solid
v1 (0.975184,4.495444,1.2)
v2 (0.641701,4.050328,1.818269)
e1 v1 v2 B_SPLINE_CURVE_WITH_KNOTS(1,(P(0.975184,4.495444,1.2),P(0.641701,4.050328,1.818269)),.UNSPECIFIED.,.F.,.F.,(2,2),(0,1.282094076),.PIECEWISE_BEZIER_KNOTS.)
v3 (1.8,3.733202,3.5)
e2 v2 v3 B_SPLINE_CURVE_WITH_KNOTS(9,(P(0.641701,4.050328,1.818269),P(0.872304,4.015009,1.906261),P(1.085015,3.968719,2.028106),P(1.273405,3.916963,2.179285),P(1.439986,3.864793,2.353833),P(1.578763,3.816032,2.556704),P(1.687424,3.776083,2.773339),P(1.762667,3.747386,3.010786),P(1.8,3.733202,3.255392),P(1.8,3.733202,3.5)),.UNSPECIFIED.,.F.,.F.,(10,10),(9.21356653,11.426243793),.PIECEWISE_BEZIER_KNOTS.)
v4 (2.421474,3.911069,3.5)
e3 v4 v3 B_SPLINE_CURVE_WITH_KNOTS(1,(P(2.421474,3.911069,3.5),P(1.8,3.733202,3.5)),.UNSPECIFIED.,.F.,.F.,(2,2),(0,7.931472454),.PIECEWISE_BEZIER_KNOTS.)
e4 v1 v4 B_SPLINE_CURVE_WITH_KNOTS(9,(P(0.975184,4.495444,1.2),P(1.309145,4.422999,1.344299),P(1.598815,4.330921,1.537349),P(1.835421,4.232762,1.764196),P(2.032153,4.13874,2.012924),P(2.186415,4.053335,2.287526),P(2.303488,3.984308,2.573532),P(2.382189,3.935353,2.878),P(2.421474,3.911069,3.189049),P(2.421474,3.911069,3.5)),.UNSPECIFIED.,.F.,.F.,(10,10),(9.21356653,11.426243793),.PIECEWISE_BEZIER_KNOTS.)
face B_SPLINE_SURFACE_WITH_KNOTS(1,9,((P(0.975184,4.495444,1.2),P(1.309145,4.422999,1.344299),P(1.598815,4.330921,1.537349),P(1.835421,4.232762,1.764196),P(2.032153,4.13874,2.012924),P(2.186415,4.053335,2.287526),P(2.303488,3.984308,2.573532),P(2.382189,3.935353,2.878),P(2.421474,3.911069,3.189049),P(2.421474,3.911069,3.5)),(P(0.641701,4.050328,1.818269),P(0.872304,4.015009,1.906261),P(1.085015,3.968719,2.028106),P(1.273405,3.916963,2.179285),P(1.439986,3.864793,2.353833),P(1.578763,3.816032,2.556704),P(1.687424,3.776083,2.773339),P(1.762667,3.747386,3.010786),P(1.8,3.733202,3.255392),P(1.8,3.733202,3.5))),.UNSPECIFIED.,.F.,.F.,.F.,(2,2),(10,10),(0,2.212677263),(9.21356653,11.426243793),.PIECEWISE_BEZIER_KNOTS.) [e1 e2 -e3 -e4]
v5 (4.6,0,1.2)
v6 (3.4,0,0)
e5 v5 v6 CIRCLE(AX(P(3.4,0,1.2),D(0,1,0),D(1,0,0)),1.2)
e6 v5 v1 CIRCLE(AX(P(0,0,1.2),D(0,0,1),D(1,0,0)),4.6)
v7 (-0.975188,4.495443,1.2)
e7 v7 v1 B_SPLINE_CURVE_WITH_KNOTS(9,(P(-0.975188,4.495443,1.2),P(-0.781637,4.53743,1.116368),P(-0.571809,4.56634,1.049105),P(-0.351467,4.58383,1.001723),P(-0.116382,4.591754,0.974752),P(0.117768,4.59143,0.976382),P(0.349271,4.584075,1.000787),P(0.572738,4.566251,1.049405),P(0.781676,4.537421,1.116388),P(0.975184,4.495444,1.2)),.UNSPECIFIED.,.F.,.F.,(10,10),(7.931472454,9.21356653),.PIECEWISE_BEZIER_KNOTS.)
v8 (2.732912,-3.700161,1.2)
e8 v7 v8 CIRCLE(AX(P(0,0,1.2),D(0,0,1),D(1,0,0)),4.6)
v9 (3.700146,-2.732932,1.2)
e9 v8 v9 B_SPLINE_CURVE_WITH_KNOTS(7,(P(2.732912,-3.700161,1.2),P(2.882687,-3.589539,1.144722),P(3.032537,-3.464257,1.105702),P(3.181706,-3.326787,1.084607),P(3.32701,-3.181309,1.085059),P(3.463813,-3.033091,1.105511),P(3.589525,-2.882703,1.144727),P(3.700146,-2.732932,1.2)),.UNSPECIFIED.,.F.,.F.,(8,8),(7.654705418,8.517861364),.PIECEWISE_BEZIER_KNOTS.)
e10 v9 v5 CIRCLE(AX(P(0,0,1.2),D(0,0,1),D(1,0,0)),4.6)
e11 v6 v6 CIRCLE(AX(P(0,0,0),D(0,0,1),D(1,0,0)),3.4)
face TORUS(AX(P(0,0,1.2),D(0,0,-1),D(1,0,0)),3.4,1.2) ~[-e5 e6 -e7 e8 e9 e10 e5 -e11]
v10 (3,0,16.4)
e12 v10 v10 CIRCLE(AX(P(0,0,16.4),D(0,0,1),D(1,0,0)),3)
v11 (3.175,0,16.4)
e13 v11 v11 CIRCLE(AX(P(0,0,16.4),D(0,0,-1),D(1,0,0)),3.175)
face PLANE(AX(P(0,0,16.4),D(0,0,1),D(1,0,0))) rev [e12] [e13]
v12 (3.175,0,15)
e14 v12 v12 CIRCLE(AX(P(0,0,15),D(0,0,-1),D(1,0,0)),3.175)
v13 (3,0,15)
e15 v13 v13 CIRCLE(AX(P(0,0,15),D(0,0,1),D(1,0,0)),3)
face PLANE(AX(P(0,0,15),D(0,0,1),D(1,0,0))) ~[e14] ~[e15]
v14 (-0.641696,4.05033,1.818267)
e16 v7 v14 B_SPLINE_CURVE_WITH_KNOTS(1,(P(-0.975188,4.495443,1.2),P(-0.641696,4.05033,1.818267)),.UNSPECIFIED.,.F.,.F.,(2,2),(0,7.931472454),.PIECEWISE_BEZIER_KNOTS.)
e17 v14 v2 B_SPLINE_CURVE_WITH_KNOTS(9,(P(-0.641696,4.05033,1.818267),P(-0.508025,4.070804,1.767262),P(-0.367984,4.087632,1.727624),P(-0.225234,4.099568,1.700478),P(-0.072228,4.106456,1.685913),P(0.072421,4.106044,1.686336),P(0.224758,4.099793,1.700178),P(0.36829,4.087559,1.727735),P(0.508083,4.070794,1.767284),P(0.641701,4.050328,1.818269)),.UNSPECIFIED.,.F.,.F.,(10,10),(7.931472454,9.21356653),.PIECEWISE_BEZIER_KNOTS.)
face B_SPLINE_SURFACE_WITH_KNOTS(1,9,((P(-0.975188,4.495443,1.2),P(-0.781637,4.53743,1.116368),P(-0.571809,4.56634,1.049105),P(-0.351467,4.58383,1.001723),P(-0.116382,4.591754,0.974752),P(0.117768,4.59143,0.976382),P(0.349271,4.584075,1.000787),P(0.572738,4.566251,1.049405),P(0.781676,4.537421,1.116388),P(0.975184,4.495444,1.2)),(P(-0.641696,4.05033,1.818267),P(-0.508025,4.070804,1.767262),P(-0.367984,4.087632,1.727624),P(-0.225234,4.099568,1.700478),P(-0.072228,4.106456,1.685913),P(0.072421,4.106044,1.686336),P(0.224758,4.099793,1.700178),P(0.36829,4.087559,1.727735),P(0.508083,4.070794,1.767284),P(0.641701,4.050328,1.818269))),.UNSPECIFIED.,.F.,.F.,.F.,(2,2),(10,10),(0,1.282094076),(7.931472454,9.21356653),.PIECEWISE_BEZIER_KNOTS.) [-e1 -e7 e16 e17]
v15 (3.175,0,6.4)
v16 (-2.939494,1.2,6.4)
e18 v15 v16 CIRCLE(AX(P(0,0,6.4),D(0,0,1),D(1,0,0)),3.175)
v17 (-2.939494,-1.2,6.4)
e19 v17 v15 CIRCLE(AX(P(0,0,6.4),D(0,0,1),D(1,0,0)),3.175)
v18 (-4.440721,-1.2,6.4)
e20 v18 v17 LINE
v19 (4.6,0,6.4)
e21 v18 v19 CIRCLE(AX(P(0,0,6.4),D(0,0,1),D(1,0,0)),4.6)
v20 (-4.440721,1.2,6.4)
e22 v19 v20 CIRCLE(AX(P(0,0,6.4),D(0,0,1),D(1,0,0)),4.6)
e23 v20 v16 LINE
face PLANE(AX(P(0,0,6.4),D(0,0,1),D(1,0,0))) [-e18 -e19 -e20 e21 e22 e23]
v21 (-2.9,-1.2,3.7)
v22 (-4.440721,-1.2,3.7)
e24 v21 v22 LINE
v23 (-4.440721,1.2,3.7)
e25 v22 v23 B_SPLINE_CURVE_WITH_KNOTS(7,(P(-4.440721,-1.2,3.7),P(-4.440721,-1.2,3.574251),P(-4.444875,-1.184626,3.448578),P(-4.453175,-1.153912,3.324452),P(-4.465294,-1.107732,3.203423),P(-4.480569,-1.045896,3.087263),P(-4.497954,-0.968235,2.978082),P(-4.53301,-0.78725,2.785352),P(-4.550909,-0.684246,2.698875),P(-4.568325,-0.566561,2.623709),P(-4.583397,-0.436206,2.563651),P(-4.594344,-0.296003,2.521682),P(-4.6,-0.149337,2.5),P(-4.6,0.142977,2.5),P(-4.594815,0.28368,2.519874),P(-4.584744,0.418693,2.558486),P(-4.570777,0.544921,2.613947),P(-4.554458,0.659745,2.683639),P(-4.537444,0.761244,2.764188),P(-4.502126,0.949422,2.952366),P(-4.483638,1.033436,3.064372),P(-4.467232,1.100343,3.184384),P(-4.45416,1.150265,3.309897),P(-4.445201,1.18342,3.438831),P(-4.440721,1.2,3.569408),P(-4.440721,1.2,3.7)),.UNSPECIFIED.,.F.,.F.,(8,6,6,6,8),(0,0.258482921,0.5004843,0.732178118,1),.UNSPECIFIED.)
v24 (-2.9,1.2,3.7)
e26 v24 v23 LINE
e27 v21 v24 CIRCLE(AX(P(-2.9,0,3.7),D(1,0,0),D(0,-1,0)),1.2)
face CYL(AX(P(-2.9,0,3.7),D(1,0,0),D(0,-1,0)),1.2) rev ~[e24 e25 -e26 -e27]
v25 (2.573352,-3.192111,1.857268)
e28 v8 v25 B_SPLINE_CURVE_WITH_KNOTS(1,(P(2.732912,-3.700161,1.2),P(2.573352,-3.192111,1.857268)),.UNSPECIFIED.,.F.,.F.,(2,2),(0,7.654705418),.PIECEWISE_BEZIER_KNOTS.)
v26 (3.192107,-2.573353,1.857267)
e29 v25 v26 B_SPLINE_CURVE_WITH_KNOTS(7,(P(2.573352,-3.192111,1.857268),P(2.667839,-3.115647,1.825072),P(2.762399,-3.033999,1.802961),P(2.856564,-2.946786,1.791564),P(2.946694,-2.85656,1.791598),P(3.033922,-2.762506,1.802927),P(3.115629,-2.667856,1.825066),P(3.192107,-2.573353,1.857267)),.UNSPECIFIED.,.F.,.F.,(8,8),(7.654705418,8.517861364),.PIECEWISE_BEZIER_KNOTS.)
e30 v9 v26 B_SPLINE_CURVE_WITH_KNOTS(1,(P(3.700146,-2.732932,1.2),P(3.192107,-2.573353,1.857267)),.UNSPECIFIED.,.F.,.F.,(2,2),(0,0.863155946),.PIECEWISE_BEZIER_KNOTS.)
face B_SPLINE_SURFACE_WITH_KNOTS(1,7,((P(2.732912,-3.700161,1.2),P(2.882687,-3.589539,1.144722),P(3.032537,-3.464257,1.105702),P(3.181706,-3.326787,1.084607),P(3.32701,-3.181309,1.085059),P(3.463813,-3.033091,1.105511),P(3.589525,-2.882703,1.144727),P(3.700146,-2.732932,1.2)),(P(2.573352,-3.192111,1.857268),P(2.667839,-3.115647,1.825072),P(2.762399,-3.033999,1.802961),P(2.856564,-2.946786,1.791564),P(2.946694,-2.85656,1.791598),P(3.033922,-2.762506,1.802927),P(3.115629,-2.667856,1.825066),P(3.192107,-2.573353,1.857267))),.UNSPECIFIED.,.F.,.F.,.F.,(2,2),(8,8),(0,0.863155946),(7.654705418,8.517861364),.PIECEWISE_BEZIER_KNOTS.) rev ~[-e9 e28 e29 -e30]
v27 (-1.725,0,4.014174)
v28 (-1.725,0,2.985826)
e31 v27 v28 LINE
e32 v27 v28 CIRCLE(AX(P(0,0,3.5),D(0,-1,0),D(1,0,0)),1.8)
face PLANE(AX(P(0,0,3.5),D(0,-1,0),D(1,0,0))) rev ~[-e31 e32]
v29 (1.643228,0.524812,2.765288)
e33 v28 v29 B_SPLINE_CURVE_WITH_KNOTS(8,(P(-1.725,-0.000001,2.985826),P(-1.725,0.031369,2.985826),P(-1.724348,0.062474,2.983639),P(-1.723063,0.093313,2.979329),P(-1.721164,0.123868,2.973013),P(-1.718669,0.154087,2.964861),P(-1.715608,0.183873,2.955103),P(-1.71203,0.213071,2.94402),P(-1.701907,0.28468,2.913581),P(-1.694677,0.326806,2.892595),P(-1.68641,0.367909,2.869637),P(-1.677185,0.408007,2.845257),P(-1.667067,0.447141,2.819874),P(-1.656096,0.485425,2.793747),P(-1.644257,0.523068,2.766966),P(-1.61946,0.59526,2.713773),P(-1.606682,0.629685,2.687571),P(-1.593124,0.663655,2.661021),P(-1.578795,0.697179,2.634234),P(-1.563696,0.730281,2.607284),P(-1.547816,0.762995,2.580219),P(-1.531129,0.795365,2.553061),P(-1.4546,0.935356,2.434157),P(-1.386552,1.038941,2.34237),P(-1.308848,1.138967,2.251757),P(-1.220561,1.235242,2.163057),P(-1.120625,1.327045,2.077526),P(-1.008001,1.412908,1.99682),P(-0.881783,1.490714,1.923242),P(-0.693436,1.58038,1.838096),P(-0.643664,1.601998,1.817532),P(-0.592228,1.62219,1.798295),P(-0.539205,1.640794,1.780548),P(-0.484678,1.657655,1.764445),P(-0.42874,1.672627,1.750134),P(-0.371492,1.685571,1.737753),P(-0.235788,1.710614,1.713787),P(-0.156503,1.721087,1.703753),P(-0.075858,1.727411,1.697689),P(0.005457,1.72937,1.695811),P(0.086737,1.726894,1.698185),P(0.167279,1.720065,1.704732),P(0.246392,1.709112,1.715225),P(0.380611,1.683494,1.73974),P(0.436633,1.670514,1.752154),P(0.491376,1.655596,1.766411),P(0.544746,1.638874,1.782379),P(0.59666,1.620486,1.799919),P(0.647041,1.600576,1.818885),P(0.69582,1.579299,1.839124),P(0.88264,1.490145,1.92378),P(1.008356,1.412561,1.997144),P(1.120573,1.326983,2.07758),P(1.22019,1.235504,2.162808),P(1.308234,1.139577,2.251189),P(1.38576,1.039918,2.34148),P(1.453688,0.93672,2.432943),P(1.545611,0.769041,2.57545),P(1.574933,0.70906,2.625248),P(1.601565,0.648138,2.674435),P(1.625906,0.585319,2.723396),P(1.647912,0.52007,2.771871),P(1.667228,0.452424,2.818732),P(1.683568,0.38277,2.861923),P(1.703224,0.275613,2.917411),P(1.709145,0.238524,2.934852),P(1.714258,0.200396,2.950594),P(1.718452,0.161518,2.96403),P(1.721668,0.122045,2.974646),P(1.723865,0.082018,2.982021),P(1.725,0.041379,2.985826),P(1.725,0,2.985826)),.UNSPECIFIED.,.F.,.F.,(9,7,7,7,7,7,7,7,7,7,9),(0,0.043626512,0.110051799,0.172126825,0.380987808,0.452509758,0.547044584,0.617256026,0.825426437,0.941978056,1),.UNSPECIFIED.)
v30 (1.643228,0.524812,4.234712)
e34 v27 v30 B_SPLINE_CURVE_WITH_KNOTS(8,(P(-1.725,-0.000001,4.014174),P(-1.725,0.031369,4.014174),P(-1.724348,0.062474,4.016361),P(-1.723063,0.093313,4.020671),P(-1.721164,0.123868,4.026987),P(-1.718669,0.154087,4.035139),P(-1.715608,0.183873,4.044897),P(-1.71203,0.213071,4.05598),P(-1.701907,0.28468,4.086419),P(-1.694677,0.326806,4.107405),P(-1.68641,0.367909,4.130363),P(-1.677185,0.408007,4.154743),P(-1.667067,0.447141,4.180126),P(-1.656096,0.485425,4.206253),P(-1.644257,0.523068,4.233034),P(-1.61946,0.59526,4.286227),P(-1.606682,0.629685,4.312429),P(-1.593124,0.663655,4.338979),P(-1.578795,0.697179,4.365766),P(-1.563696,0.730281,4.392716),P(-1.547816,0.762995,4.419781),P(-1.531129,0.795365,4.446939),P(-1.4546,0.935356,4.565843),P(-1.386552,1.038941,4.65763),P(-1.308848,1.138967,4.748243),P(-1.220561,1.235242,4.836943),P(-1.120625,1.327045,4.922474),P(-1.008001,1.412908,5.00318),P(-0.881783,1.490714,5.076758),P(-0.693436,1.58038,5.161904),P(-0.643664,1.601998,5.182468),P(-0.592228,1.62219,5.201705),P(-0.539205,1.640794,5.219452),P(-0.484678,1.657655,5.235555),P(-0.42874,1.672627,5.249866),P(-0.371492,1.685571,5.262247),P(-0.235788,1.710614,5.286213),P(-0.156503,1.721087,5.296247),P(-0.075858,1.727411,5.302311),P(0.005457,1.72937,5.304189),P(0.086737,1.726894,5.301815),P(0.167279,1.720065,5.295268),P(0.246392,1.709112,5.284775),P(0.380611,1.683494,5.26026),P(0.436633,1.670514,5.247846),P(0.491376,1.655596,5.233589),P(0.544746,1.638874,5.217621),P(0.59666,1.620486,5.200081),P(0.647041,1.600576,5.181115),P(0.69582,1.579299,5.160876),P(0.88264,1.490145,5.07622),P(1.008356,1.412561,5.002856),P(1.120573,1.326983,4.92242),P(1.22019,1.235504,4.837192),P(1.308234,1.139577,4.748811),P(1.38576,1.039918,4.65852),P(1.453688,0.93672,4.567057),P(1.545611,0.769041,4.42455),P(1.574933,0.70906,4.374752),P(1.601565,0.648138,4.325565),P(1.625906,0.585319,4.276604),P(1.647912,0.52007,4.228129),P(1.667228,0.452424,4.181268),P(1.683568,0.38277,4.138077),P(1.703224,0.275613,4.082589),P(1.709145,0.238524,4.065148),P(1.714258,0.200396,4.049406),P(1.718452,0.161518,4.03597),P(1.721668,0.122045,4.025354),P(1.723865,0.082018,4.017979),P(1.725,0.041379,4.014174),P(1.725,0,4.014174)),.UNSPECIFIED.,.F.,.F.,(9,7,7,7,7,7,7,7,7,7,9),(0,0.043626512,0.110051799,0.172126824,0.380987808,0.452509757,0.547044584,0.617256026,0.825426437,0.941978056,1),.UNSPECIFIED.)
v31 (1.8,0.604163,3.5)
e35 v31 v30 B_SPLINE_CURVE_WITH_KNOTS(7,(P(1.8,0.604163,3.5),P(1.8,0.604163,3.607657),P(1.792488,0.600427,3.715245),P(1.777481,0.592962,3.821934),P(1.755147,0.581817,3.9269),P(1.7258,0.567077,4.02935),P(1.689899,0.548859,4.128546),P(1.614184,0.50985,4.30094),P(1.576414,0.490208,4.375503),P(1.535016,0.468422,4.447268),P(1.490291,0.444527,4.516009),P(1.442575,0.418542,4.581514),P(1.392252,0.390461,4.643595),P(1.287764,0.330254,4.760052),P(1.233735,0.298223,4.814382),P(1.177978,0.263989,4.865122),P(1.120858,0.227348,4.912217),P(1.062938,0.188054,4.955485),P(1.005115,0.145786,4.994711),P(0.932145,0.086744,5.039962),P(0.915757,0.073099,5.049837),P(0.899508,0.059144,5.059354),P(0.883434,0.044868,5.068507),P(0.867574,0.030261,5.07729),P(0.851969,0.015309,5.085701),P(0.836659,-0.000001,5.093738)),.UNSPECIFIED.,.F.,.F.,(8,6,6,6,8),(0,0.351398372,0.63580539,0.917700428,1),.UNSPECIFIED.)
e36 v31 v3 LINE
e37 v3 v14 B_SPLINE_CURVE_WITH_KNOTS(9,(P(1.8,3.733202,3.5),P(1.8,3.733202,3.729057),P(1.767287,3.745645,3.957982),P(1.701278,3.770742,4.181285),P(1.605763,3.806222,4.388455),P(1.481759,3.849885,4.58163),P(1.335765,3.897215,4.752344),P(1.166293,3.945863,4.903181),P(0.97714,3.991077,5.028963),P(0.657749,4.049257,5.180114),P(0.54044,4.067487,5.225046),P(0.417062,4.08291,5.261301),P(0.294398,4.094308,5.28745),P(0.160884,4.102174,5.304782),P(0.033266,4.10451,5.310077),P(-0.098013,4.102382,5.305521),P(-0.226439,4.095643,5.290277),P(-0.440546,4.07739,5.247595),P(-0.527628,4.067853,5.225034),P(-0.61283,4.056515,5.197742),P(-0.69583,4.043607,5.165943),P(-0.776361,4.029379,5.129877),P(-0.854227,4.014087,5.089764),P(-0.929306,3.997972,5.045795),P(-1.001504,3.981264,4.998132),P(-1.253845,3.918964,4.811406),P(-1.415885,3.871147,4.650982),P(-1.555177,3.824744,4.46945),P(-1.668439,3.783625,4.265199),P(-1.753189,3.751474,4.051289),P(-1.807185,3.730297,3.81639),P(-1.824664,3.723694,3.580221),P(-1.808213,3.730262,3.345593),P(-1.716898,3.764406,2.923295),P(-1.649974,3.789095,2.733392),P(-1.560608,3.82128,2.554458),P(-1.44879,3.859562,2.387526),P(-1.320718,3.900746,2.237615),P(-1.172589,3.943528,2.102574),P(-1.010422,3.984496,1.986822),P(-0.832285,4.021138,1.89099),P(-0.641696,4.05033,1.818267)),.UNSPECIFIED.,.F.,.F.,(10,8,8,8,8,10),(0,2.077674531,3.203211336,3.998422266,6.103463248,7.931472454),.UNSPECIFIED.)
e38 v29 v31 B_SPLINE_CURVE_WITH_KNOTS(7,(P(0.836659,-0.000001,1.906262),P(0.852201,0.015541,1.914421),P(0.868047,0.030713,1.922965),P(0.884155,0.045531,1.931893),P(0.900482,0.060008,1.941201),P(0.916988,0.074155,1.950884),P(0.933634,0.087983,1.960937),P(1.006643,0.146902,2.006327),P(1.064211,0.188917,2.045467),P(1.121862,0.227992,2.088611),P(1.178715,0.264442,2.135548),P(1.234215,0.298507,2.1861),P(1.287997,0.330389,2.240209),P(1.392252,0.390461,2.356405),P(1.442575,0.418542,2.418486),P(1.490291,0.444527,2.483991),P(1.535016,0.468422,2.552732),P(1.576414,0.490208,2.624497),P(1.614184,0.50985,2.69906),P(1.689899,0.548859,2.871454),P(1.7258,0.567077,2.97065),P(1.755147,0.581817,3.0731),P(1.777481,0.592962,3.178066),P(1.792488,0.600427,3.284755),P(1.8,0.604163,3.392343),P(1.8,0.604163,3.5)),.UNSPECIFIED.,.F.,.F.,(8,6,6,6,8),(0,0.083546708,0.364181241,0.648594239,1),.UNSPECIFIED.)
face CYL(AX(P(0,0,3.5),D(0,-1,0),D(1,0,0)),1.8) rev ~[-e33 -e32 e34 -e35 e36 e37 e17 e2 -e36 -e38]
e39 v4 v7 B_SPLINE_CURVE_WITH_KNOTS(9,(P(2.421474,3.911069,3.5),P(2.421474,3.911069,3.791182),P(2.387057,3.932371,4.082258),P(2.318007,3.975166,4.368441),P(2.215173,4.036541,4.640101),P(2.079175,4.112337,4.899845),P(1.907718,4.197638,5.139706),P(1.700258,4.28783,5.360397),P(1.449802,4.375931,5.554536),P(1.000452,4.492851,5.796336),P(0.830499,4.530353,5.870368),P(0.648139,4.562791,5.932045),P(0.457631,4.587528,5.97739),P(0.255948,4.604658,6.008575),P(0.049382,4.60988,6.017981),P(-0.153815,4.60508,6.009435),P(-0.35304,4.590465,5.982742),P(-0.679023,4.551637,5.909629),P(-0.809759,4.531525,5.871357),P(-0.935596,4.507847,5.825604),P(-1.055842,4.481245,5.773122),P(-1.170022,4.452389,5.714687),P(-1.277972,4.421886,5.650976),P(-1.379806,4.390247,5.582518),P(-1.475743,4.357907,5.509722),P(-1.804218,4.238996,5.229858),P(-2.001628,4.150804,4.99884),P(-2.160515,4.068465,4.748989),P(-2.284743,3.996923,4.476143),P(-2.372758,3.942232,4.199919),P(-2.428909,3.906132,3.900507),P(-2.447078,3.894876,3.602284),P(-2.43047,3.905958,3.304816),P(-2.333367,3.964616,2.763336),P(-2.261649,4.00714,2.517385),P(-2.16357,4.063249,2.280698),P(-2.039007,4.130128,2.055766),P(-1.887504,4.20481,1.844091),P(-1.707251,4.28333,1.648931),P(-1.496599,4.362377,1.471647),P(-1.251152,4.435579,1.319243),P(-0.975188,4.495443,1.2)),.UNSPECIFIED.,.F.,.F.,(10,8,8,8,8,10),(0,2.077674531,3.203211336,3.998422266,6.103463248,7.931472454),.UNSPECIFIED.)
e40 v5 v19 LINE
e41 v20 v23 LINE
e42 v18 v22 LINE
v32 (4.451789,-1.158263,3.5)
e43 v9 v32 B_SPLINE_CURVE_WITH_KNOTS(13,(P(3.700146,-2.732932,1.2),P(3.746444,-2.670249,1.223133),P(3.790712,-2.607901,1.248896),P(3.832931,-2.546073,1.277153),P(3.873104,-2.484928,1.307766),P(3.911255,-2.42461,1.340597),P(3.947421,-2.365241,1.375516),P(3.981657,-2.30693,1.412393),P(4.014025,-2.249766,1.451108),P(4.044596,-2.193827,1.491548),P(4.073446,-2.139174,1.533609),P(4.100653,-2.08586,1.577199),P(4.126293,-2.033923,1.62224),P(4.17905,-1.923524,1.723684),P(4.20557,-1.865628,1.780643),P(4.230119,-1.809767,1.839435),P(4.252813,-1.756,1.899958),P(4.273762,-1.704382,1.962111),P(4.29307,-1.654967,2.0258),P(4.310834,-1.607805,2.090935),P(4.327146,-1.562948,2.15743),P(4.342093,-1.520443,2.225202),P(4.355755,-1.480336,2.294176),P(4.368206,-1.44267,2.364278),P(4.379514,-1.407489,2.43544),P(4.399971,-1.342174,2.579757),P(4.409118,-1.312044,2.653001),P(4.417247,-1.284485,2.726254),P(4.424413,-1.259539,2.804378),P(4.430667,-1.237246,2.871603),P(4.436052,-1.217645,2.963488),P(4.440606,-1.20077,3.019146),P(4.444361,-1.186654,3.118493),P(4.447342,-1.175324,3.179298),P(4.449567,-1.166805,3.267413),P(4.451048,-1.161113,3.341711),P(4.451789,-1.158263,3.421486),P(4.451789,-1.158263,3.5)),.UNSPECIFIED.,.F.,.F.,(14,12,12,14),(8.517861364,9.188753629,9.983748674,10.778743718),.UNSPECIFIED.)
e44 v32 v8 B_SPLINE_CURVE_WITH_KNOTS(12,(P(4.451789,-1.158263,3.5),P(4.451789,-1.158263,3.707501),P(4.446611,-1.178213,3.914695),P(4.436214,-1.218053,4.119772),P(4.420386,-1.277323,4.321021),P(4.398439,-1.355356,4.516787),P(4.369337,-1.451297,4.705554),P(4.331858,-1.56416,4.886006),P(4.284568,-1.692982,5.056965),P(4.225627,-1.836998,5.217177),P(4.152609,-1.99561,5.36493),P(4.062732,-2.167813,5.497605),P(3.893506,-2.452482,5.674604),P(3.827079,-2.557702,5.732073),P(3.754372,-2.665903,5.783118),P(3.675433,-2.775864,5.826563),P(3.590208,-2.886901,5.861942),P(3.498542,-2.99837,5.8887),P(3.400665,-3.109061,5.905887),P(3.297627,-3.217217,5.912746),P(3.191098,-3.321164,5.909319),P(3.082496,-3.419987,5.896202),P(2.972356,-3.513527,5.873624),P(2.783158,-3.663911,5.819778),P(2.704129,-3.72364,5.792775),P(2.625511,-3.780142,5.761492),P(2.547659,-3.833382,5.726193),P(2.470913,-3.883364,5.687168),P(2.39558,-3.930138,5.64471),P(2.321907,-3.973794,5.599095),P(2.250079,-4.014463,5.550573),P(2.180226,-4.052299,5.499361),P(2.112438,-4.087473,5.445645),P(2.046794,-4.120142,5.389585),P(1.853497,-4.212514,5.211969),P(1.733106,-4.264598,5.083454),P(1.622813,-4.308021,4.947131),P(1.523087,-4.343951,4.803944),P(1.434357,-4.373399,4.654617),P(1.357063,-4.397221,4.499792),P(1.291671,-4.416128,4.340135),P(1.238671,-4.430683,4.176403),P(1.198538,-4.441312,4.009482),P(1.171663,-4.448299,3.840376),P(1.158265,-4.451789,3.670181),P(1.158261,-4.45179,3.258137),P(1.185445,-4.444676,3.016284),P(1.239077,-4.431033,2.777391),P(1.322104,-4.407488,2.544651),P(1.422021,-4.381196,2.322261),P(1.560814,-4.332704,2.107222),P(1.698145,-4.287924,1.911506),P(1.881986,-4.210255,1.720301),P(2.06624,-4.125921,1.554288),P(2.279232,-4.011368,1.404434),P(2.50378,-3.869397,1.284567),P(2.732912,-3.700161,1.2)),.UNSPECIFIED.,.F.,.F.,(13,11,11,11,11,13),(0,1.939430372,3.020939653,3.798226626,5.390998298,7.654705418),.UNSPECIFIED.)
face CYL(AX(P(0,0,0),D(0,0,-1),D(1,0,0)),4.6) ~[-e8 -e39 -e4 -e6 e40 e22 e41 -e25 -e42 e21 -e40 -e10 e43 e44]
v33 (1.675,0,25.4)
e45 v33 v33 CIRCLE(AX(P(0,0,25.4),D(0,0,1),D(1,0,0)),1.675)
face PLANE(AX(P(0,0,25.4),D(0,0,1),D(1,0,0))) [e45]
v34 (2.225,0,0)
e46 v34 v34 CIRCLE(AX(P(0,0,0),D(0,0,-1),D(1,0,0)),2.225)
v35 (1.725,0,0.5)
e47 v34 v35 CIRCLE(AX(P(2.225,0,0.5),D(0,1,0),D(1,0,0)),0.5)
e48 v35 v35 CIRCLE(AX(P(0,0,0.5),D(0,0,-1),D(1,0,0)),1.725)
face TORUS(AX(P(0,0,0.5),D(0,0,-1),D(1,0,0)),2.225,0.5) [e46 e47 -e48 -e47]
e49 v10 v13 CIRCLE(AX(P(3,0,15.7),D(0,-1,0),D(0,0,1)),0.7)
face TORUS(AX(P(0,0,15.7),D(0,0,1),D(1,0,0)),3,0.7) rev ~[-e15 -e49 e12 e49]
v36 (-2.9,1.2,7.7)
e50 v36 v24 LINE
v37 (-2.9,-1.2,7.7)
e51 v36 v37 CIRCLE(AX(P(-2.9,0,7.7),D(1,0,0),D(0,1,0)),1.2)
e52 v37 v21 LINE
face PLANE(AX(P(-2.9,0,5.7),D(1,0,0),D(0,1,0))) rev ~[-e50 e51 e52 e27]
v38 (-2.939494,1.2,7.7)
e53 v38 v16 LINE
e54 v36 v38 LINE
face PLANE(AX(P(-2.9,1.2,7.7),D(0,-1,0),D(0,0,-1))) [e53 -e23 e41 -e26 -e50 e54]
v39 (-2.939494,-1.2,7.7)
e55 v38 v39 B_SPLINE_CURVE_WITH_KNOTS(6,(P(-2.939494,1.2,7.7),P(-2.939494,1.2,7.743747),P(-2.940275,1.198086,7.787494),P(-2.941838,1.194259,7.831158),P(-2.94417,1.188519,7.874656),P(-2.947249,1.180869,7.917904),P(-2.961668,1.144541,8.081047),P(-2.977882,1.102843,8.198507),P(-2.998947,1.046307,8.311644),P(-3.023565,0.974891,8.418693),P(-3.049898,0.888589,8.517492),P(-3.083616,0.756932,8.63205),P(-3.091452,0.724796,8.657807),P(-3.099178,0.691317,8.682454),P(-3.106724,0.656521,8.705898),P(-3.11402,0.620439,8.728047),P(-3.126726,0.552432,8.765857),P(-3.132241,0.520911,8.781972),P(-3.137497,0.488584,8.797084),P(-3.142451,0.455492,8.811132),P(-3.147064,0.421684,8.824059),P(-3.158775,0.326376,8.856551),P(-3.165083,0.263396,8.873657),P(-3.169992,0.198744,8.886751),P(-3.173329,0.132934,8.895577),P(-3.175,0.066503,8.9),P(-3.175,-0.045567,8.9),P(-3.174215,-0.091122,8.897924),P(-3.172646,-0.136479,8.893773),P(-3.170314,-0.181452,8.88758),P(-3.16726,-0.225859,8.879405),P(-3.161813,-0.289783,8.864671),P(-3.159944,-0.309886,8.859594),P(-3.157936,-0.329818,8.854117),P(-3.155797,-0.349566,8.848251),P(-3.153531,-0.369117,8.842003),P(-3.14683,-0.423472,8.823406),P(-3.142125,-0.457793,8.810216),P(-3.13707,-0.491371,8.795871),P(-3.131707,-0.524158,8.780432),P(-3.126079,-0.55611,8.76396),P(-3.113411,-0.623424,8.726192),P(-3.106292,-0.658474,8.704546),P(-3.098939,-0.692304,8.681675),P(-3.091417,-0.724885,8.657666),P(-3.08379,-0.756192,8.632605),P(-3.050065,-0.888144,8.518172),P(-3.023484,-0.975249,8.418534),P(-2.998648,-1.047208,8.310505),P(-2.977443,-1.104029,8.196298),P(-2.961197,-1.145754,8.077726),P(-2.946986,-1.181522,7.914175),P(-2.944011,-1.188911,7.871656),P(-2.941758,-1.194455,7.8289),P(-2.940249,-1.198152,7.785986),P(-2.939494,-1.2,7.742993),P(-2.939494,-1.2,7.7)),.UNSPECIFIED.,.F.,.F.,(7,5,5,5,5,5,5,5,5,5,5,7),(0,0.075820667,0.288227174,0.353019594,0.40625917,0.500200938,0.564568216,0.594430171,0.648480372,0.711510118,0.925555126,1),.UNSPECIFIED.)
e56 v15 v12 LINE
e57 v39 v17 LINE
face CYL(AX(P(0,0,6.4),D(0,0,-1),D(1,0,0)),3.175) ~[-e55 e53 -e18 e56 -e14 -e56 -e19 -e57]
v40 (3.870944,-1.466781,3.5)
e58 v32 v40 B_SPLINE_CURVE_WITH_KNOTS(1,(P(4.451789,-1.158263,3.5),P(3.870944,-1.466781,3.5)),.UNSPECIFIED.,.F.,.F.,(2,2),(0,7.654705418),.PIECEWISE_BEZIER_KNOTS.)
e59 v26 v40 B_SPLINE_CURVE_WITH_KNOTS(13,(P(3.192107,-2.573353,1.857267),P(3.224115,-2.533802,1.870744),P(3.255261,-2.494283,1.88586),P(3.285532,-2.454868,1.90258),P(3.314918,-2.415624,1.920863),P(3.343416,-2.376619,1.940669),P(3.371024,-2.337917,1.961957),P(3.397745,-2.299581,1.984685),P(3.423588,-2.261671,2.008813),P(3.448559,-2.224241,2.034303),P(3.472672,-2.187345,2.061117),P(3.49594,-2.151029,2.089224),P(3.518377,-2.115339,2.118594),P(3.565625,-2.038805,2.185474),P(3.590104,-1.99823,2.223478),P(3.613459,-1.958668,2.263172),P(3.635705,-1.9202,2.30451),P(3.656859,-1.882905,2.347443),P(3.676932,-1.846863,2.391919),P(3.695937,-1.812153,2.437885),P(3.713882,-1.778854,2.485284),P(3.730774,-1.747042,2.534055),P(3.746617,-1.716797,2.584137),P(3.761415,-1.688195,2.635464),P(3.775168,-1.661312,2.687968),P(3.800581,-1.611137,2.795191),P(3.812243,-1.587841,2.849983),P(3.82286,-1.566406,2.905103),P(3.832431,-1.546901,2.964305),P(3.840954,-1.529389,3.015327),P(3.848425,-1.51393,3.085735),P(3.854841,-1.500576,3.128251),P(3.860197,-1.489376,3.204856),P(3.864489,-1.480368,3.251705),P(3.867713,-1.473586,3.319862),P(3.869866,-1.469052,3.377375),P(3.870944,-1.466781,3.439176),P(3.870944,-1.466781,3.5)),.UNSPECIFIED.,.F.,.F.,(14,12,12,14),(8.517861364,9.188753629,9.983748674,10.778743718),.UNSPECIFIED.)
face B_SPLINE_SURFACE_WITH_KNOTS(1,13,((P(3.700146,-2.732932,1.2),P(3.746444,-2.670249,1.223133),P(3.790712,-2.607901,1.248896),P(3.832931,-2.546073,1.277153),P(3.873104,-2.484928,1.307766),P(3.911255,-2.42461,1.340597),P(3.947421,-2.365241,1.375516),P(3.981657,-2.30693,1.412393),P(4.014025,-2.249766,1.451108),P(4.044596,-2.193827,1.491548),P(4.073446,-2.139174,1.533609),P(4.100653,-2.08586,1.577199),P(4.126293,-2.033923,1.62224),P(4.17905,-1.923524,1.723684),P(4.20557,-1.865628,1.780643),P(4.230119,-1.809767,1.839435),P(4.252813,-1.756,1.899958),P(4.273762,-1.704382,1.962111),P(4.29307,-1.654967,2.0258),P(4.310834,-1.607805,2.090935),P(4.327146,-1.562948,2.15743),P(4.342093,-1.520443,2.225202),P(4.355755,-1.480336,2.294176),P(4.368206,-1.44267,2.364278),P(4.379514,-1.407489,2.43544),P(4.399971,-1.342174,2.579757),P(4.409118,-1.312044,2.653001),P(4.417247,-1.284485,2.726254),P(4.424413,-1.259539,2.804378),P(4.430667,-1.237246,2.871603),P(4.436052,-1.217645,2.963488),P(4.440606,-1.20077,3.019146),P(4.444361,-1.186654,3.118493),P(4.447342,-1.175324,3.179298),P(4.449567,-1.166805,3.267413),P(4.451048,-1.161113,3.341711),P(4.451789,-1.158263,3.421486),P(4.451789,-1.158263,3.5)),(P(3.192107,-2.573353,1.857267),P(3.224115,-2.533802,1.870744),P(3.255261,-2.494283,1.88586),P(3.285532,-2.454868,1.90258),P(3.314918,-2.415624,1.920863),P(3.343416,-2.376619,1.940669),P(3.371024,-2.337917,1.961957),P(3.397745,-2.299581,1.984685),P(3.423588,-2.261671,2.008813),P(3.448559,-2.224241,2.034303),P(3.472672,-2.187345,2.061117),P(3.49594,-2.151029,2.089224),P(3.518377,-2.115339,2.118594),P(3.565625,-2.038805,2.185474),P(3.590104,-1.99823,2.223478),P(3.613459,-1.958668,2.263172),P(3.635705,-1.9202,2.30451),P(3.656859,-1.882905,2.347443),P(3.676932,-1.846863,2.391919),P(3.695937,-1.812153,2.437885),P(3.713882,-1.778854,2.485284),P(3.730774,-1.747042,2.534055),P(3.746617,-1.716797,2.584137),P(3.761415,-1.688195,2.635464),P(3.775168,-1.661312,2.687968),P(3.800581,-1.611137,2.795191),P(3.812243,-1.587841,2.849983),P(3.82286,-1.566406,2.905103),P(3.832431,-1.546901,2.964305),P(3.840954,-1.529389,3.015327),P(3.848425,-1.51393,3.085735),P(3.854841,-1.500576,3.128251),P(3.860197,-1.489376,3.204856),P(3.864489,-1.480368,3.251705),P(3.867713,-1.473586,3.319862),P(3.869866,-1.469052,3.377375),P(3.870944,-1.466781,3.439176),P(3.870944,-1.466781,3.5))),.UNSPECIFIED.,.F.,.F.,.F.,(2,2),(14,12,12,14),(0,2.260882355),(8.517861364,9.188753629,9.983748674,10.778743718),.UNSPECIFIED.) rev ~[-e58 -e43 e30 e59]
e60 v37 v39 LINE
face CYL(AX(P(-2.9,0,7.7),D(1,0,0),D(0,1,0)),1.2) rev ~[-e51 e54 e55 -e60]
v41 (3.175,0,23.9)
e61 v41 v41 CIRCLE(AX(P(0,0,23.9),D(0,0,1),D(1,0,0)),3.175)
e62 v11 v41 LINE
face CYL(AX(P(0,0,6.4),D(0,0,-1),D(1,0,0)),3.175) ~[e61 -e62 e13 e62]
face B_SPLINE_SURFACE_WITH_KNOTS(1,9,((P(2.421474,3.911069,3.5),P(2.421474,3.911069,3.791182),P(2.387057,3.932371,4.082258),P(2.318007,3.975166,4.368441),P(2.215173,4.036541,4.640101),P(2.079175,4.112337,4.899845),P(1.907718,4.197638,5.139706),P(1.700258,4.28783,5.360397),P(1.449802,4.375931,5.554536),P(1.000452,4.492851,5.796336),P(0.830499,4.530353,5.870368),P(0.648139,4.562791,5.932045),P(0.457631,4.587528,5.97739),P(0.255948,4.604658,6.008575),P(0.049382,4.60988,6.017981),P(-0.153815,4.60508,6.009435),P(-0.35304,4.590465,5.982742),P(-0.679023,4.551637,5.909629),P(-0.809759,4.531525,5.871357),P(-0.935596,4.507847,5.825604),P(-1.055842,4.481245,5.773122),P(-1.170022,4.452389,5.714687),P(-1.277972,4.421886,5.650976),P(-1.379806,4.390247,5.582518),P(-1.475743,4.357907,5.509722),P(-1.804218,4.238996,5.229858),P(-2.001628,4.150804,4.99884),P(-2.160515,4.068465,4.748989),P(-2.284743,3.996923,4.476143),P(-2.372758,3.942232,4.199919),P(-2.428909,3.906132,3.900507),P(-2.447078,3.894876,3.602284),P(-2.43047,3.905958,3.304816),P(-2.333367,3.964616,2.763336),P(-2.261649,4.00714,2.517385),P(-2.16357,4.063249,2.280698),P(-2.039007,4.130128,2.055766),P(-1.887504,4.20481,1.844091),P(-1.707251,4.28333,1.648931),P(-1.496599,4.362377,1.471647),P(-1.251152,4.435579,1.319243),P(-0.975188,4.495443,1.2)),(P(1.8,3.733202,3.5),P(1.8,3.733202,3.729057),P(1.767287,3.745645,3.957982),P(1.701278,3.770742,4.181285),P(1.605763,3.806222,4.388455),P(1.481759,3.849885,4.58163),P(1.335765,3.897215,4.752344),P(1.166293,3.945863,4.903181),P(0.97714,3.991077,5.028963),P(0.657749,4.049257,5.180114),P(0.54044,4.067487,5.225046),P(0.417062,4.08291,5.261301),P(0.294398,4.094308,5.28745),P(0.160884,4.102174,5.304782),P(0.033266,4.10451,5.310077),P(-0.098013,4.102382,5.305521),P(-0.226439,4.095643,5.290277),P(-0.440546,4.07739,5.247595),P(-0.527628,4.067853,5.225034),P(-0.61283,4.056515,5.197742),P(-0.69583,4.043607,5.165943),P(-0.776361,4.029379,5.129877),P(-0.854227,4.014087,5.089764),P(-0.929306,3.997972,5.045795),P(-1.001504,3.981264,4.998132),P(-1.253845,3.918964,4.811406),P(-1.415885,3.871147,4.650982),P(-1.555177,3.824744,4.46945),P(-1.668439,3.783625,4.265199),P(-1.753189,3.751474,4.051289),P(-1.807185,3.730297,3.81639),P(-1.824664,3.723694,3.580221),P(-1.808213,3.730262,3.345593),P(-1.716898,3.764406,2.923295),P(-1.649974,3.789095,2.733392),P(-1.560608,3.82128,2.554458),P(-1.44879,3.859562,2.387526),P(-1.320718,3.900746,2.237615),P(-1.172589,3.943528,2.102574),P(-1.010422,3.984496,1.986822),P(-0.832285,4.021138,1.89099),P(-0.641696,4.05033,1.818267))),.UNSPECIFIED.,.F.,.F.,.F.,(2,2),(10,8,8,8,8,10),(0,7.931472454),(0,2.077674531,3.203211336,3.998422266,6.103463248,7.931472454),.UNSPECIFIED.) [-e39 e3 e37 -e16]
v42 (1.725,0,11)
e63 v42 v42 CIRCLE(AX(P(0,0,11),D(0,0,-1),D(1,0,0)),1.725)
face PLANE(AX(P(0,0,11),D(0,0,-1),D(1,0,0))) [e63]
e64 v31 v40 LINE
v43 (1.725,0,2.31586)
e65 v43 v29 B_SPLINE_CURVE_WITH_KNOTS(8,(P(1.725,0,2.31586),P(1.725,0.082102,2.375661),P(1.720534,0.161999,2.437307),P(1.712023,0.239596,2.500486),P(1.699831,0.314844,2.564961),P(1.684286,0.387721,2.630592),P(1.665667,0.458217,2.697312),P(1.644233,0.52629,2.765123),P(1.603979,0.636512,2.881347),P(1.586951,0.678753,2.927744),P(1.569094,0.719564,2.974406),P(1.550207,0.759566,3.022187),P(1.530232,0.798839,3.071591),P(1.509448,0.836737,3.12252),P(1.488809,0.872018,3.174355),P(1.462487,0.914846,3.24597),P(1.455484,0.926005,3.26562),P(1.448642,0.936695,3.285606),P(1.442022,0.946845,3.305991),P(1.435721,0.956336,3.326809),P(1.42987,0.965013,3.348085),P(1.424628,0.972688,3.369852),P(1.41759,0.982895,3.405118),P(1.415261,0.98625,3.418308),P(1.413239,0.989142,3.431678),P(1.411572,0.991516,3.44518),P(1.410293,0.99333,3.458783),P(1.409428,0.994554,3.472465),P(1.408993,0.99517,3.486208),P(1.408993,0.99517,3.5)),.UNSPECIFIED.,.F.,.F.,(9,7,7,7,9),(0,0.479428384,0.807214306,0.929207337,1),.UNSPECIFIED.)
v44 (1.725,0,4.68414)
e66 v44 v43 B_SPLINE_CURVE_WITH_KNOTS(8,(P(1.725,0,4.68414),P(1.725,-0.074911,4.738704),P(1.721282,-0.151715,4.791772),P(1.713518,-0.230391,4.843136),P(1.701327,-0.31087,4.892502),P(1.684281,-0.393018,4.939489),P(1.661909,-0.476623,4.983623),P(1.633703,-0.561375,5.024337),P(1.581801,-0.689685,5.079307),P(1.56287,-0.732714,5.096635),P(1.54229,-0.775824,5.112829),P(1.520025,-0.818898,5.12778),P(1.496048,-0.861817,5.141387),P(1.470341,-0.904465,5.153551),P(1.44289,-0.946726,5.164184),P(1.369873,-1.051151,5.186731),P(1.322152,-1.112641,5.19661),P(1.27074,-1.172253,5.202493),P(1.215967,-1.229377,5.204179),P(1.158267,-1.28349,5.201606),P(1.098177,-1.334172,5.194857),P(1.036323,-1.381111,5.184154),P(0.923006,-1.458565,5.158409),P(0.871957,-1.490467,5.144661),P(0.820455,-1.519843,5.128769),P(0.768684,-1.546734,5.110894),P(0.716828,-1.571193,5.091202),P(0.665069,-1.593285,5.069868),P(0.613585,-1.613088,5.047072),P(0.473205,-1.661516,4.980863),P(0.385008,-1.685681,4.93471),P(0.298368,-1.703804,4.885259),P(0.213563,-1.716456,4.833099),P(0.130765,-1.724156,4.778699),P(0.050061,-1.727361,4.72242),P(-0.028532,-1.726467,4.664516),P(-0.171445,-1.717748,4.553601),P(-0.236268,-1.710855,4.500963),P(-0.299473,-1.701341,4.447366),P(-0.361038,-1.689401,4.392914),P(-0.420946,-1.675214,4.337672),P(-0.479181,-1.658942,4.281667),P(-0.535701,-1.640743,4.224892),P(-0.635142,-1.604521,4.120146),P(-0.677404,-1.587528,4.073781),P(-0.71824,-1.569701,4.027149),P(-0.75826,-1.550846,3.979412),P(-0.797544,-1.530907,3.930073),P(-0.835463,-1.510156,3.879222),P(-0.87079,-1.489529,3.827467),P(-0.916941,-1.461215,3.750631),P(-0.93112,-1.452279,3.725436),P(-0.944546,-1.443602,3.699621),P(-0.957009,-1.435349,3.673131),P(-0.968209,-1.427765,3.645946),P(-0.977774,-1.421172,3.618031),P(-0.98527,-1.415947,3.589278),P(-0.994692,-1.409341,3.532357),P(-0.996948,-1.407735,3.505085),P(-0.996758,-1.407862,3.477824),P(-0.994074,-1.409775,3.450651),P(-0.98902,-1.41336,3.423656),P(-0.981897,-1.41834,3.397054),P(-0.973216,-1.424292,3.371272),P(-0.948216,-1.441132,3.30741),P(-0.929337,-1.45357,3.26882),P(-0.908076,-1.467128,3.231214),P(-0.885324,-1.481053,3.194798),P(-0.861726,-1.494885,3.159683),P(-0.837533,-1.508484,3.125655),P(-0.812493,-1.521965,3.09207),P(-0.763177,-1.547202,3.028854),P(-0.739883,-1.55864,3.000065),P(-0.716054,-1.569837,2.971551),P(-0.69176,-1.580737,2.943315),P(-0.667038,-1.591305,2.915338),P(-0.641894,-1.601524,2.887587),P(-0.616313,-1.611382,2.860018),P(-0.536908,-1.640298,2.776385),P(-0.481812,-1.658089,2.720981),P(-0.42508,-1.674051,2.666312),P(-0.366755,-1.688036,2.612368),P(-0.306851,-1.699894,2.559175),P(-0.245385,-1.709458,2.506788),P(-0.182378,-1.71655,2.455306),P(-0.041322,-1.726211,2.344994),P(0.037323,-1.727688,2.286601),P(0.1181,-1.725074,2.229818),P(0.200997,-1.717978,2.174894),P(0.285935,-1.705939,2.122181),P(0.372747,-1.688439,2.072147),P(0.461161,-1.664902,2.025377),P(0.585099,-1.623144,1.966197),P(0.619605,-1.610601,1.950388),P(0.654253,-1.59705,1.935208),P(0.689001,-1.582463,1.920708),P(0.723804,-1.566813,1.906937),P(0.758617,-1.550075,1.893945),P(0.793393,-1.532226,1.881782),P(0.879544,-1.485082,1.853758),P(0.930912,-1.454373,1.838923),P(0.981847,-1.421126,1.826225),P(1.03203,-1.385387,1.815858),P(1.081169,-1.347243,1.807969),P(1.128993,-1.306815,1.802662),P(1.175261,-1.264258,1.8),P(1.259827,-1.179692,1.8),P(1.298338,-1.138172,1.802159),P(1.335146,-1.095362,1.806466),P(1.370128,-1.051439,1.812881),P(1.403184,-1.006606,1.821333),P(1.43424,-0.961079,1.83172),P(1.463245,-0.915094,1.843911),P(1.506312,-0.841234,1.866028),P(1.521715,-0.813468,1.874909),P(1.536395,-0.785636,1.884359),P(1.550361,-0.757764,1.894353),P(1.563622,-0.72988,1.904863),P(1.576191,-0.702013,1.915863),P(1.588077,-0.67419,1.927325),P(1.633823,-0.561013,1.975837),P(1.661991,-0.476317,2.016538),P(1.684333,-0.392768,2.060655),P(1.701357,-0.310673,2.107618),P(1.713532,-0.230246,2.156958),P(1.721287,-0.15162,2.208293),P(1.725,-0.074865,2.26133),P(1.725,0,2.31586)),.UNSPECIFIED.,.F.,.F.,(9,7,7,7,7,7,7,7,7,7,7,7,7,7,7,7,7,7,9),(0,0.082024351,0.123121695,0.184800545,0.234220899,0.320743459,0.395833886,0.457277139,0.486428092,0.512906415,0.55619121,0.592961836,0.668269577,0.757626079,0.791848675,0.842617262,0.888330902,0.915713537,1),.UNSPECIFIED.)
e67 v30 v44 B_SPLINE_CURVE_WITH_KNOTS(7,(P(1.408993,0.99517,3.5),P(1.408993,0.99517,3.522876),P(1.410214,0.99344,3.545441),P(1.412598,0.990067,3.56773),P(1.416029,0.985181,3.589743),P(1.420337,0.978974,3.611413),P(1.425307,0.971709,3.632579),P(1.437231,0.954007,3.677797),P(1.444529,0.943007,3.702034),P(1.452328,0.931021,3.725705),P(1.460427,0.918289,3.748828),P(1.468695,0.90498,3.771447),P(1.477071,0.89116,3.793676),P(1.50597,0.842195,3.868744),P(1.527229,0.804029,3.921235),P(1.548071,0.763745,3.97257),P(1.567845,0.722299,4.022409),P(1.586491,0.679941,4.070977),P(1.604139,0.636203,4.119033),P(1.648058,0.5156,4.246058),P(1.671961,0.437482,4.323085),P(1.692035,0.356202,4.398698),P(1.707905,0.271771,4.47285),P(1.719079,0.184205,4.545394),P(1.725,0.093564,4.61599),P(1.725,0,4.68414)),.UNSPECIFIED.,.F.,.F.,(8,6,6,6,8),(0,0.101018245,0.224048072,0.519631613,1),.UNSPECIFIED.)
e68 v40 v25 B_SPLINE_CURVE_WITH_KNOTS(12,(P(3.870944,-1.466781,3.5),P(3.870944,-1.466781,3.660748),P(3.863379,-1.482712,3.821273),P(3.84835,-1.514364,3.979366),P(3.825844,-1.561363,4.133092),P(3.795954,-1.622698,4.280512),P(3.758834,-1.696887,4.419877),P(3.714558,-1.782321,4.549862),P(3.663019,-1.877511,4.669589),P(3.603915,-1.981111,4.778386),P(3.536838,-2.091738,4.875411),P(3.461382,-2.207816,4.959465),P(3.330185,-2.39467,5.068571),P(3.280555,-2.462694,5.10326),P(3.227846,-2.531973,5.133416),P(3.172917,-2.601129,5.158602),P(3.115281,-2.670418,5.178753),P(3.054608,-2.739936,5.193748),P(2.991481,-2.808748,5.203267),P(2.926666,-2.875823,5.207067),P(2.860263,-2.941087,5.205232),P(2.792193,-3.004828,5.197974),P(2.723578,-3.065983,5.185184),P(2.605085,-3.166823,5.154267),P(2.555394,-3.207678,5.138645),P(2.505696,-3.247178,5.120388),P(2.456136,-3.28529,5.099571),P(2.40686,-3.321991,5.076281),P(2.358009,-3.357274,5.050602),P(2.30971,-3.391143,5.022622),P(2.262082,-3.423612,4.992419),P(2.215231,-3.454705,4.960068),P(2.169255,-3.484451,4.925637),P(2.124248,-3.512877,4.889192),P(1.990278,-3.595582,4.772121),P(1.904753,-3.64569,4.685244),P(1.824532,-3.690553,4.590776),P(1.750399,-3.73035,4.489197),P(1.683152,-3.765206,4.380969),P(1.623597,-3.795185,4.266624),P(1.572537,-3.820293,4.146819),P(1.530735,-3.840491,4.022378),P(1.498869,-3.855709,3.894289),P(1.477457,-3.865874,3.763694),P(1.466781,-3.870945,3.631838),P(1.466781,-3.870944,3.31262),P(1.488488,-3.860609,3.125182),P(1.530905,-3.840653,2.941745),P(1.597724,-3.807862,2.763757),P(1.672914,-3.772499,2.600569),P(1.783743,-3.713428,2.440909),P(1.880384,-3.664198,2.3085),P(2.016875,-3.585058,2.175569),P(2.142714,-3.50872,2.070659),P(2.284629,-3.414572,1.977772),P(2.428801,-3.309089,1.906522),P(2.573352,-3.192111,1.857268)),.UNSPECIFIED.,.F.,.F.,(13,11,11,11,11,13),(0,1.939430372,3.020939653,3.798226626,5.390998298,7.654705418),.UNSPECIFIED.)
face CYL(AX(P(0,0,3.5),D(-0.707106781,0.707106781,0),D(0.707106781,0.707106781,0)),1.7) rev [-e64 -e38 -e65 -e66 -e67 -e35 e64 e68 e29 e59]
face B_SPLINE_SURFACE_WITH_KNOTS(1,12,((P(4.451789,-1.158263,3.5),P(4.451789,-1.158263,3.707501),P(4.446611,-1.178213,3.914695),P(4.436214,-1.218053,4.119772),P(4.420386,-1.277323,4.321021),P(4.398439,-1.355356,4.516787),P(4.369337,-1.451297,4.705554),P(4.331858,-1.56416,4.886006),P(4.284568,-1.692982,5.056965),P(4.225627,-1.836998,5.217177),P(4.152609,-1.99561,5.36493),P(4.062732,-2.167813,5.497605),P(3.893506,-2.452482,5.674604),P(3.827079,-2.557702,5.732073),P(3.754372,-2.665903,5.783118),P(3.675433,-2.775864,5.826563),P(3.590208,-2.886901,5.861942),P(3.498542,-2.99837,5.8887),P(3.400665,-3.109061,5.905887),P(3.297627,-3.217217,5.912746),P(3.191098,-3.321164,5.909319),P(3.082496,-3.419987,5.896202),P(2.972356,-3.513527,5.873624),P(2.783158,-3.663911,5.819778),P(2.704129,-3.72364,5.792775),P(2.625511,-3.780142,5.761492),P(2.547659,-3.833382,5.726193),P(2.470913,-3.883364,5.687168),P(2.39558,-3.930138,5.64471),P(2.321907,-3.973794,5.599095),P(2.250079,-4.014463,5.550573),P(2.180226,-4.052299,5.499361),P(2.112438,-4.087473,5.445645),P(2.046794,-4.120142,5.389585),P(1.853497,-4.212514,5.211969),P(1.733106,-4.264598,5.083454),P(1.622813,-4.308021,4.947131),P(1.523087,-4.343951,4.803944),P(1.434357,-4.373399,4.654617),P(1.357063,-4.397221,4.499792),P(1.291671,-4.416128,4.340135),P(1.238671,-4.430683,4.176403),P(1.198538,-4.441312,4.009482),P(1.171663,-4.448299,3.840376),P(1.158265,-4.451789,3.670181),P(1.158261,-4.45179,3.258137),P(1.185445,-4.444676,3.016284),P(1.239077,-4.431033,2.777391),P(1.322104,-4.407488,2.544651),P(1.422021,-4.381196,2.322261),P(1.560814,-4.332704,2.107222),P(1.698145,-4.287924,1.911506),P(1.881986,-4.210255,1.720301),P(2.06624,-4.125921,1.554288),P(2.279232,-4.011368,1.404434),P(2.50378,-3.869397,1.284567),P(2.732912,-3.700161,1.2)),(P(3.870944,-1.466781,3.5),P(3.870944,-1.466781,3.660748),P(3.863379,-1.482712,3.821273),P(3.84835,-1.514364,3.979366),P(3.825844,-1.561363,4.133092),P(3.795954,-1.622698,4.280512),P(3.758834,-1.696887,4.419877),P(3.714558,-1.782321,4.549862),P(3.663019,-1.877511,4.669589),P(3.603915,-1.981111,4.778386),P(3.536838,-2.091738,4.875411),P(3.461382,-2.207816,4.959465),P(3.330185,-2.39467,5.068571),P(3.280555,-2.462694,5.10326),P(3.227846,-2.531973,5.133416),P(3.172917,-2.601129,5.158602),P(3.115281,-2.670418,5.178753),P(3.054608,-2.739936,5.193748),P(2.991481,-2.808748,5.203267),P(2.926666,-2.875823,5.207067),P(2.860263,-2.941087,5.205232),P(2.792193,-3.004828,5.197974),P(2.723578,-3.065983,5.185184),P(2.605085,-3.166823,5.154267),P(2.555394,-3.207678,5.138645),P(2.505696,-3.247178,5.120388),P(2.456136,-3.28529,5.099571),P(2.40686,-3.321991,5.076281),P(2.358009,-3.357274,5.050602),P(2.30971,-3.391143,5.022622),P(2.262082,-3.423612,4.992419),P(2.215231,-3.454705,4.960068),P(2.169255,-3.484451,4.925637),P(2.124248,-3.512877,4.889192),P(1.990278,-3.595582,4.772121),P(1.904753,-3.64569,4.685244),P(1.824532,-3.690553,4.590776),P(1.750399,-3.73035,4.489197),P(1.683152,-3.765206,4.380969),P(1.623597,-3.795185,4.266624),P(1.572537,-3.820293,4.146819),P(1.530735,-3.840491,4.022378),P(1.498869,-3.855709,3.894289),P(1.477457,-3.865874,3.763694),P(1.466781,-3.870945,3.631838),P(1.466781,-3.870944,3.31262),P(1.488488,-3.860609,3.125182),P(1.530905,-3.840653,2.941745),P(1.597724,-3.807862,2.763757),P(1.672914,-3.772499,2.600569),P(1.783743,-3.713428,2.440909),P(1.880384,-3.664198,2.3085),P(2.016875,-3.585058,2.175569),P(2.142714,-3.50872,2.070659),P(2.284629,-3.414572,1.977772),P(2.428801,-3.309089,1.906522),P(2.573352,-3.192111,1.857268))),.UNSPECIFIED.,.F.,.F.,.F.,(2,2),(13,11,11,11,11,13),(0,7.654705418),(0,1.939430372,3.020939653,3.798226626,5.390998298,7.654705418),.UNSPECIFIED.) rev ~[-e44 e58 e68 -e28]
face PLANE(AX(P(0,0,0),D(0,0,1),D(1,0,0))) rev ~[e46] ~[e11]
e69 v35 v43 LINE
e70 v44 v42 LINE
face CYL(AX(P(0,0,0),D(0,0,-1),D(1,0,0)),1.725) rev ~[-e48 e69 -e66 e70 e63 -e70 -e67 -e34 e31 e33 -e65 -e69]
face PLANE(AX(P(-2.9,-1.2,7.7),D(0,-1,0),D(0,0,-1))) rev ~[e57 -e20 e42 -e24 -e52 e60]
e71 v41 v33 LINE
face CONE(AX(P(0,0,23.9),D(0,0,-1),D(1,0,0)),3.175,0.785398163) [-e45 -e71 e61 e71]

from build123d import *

# Parameters (mm, degrees)
SKETCH_R         = 4.6
PAD_DEPTH        = 6.4
SKETCH001_R      = 3.175
PAD001_DEPTH     = 19
CHAMFER_SIZE     = 1.5
FILLET_R         = 1.2
SKETCH002_R      = 1.725
POCKET_DEPTH     = 11
FILLET001_R      = 0.5
SKETCH004_R      = 1.8
POCKET001_DEPTH  = 5
POCKET002_DEPTH  = 5
SKETCH006_R      = 1.7
POCKET003_DEPTH  = 5
CHAMFER001_SIZE2 = 0.5
CHAMFER001_SIZE  = 0.7


with BuildPart() as part:
    # Sketch → Pad (new body)
    with BuildSketch(Plane.XY):
        Circle(SKETCH_R)
    extrude(amount=PAD_DEPTH)

    # Sketch001 (on Face3 of Pad) → Pad001 (join)
    with BuildSketch(Plane.XY.offset(6.4)):
        Circle(SKETCH001_R)
    extrude(amount=PAD001_DEPTH)

    # Chamfer
    chamfer_edges = [part.edges().sort_by_distance(p)[0] for p in [
        (-3.175, 0, 25.4),
    ]]
    chamfer(chamfer_edges, length=CHAMFER_SIZE)

    # Fillet
    fillet_edges = [part.edges().sort_by_distance(p)[0] for p in [
        (-4.6, 0, 0),
    ]]
    fillet(fillet_edges, radius=FILLET_R)

    # Sketch002 (on Face4 of Fillet) → Pocket (cut)
    with BuildSketch(Plane(origin=(0, 0, 0), x_dir=(1, 0, 0), z_dir=(0, 0, -1))):
        Circle(SKETCH002_R)
    extrude(amount=-POCKET_DEPTH, mode=Mode.SUBTRACT)

    # Fillet001
    fillet001_edges = [part.edges().sort_by_distance(p)[0] for p in [
        (-1.725, 0, 0),
    ]]
    fillet(fillet001_edges, radius=FILLET001_R)

    # Sketch003 → Groove (revolve, cut)
    with BuildSketch(Plane.XZ):
        with BuildLine():
            ThreePointArc((3, 16.4), (2.3, 15.7), (3, 15))
            Line((3, 15), (4.410793, 15))
            Line((4.410793, 16.4), (4.410793, 15))
            Line((3, 16.4), (4.410793, 16.4))
        make_face()
    revolve(axis=Axis((0, 0, 0), (0, 0, 1)), mode=Mode.SUBTRACT)

    # Sketch004 → Pocket001 (cut)
    with BuildSketch(Plane.XZ):
        with Locations((0, 3.5)):
            Circle(SKETCH004_R)
    extrude(amount=-POCKET001_DEPTH, mode=Mode.SUBTRACT)

    # Sketch005 → Pocket002 (cut)
    with BuildSketch(Plane.YZ.offset(-2.9)):
        with BuildLine():
            ThreePointArc((1.2, 7.7), (0, 8.9), (-1.2, 7.7))
            Line((-1.2, 7.7), (-1.2, 3.7))
            ThreePointArc((-1.2, 3.7), (0, 2.5), (1.2, 3.7))
            Line((1.2, 7.7), (1.2, 3.7))
        make_face()
    extrude(amount=-POCKET002_DEPTH, mode=Mode.SUBTRACT)

    # Sketch006 → Pocket003 (cut)
    with BuildSketch(Plane(origin=(0, 0, 0), x_dir=(0.707107, 0.707107, 0), z_dir=(0.707107, -0.707107, 0))):
        with Locations((0, 3.5)):
            Circle(SKETCH006_R)
    extrude(amount=POCKET003_DEPTH, mode=Mode.SUBTRACT)

    # Chamfer001
    chamfer001_edges = [part.edges().sort_by_distance(p)[0] for p in [
        (1.820335, -4.224498, 3.5),
        (-1.8, 4.233202, 3.5),
    ]]
    chamfer001_side = part.faces().sort_by_distance((-4.6, 0, 1.340114))[0]
    chamfer(chamfer001_edges, length=CHAMFER001_SIZE, length2=CHAMFER001_SIZE2, reference=chamfer001_side)


solid = part.part
